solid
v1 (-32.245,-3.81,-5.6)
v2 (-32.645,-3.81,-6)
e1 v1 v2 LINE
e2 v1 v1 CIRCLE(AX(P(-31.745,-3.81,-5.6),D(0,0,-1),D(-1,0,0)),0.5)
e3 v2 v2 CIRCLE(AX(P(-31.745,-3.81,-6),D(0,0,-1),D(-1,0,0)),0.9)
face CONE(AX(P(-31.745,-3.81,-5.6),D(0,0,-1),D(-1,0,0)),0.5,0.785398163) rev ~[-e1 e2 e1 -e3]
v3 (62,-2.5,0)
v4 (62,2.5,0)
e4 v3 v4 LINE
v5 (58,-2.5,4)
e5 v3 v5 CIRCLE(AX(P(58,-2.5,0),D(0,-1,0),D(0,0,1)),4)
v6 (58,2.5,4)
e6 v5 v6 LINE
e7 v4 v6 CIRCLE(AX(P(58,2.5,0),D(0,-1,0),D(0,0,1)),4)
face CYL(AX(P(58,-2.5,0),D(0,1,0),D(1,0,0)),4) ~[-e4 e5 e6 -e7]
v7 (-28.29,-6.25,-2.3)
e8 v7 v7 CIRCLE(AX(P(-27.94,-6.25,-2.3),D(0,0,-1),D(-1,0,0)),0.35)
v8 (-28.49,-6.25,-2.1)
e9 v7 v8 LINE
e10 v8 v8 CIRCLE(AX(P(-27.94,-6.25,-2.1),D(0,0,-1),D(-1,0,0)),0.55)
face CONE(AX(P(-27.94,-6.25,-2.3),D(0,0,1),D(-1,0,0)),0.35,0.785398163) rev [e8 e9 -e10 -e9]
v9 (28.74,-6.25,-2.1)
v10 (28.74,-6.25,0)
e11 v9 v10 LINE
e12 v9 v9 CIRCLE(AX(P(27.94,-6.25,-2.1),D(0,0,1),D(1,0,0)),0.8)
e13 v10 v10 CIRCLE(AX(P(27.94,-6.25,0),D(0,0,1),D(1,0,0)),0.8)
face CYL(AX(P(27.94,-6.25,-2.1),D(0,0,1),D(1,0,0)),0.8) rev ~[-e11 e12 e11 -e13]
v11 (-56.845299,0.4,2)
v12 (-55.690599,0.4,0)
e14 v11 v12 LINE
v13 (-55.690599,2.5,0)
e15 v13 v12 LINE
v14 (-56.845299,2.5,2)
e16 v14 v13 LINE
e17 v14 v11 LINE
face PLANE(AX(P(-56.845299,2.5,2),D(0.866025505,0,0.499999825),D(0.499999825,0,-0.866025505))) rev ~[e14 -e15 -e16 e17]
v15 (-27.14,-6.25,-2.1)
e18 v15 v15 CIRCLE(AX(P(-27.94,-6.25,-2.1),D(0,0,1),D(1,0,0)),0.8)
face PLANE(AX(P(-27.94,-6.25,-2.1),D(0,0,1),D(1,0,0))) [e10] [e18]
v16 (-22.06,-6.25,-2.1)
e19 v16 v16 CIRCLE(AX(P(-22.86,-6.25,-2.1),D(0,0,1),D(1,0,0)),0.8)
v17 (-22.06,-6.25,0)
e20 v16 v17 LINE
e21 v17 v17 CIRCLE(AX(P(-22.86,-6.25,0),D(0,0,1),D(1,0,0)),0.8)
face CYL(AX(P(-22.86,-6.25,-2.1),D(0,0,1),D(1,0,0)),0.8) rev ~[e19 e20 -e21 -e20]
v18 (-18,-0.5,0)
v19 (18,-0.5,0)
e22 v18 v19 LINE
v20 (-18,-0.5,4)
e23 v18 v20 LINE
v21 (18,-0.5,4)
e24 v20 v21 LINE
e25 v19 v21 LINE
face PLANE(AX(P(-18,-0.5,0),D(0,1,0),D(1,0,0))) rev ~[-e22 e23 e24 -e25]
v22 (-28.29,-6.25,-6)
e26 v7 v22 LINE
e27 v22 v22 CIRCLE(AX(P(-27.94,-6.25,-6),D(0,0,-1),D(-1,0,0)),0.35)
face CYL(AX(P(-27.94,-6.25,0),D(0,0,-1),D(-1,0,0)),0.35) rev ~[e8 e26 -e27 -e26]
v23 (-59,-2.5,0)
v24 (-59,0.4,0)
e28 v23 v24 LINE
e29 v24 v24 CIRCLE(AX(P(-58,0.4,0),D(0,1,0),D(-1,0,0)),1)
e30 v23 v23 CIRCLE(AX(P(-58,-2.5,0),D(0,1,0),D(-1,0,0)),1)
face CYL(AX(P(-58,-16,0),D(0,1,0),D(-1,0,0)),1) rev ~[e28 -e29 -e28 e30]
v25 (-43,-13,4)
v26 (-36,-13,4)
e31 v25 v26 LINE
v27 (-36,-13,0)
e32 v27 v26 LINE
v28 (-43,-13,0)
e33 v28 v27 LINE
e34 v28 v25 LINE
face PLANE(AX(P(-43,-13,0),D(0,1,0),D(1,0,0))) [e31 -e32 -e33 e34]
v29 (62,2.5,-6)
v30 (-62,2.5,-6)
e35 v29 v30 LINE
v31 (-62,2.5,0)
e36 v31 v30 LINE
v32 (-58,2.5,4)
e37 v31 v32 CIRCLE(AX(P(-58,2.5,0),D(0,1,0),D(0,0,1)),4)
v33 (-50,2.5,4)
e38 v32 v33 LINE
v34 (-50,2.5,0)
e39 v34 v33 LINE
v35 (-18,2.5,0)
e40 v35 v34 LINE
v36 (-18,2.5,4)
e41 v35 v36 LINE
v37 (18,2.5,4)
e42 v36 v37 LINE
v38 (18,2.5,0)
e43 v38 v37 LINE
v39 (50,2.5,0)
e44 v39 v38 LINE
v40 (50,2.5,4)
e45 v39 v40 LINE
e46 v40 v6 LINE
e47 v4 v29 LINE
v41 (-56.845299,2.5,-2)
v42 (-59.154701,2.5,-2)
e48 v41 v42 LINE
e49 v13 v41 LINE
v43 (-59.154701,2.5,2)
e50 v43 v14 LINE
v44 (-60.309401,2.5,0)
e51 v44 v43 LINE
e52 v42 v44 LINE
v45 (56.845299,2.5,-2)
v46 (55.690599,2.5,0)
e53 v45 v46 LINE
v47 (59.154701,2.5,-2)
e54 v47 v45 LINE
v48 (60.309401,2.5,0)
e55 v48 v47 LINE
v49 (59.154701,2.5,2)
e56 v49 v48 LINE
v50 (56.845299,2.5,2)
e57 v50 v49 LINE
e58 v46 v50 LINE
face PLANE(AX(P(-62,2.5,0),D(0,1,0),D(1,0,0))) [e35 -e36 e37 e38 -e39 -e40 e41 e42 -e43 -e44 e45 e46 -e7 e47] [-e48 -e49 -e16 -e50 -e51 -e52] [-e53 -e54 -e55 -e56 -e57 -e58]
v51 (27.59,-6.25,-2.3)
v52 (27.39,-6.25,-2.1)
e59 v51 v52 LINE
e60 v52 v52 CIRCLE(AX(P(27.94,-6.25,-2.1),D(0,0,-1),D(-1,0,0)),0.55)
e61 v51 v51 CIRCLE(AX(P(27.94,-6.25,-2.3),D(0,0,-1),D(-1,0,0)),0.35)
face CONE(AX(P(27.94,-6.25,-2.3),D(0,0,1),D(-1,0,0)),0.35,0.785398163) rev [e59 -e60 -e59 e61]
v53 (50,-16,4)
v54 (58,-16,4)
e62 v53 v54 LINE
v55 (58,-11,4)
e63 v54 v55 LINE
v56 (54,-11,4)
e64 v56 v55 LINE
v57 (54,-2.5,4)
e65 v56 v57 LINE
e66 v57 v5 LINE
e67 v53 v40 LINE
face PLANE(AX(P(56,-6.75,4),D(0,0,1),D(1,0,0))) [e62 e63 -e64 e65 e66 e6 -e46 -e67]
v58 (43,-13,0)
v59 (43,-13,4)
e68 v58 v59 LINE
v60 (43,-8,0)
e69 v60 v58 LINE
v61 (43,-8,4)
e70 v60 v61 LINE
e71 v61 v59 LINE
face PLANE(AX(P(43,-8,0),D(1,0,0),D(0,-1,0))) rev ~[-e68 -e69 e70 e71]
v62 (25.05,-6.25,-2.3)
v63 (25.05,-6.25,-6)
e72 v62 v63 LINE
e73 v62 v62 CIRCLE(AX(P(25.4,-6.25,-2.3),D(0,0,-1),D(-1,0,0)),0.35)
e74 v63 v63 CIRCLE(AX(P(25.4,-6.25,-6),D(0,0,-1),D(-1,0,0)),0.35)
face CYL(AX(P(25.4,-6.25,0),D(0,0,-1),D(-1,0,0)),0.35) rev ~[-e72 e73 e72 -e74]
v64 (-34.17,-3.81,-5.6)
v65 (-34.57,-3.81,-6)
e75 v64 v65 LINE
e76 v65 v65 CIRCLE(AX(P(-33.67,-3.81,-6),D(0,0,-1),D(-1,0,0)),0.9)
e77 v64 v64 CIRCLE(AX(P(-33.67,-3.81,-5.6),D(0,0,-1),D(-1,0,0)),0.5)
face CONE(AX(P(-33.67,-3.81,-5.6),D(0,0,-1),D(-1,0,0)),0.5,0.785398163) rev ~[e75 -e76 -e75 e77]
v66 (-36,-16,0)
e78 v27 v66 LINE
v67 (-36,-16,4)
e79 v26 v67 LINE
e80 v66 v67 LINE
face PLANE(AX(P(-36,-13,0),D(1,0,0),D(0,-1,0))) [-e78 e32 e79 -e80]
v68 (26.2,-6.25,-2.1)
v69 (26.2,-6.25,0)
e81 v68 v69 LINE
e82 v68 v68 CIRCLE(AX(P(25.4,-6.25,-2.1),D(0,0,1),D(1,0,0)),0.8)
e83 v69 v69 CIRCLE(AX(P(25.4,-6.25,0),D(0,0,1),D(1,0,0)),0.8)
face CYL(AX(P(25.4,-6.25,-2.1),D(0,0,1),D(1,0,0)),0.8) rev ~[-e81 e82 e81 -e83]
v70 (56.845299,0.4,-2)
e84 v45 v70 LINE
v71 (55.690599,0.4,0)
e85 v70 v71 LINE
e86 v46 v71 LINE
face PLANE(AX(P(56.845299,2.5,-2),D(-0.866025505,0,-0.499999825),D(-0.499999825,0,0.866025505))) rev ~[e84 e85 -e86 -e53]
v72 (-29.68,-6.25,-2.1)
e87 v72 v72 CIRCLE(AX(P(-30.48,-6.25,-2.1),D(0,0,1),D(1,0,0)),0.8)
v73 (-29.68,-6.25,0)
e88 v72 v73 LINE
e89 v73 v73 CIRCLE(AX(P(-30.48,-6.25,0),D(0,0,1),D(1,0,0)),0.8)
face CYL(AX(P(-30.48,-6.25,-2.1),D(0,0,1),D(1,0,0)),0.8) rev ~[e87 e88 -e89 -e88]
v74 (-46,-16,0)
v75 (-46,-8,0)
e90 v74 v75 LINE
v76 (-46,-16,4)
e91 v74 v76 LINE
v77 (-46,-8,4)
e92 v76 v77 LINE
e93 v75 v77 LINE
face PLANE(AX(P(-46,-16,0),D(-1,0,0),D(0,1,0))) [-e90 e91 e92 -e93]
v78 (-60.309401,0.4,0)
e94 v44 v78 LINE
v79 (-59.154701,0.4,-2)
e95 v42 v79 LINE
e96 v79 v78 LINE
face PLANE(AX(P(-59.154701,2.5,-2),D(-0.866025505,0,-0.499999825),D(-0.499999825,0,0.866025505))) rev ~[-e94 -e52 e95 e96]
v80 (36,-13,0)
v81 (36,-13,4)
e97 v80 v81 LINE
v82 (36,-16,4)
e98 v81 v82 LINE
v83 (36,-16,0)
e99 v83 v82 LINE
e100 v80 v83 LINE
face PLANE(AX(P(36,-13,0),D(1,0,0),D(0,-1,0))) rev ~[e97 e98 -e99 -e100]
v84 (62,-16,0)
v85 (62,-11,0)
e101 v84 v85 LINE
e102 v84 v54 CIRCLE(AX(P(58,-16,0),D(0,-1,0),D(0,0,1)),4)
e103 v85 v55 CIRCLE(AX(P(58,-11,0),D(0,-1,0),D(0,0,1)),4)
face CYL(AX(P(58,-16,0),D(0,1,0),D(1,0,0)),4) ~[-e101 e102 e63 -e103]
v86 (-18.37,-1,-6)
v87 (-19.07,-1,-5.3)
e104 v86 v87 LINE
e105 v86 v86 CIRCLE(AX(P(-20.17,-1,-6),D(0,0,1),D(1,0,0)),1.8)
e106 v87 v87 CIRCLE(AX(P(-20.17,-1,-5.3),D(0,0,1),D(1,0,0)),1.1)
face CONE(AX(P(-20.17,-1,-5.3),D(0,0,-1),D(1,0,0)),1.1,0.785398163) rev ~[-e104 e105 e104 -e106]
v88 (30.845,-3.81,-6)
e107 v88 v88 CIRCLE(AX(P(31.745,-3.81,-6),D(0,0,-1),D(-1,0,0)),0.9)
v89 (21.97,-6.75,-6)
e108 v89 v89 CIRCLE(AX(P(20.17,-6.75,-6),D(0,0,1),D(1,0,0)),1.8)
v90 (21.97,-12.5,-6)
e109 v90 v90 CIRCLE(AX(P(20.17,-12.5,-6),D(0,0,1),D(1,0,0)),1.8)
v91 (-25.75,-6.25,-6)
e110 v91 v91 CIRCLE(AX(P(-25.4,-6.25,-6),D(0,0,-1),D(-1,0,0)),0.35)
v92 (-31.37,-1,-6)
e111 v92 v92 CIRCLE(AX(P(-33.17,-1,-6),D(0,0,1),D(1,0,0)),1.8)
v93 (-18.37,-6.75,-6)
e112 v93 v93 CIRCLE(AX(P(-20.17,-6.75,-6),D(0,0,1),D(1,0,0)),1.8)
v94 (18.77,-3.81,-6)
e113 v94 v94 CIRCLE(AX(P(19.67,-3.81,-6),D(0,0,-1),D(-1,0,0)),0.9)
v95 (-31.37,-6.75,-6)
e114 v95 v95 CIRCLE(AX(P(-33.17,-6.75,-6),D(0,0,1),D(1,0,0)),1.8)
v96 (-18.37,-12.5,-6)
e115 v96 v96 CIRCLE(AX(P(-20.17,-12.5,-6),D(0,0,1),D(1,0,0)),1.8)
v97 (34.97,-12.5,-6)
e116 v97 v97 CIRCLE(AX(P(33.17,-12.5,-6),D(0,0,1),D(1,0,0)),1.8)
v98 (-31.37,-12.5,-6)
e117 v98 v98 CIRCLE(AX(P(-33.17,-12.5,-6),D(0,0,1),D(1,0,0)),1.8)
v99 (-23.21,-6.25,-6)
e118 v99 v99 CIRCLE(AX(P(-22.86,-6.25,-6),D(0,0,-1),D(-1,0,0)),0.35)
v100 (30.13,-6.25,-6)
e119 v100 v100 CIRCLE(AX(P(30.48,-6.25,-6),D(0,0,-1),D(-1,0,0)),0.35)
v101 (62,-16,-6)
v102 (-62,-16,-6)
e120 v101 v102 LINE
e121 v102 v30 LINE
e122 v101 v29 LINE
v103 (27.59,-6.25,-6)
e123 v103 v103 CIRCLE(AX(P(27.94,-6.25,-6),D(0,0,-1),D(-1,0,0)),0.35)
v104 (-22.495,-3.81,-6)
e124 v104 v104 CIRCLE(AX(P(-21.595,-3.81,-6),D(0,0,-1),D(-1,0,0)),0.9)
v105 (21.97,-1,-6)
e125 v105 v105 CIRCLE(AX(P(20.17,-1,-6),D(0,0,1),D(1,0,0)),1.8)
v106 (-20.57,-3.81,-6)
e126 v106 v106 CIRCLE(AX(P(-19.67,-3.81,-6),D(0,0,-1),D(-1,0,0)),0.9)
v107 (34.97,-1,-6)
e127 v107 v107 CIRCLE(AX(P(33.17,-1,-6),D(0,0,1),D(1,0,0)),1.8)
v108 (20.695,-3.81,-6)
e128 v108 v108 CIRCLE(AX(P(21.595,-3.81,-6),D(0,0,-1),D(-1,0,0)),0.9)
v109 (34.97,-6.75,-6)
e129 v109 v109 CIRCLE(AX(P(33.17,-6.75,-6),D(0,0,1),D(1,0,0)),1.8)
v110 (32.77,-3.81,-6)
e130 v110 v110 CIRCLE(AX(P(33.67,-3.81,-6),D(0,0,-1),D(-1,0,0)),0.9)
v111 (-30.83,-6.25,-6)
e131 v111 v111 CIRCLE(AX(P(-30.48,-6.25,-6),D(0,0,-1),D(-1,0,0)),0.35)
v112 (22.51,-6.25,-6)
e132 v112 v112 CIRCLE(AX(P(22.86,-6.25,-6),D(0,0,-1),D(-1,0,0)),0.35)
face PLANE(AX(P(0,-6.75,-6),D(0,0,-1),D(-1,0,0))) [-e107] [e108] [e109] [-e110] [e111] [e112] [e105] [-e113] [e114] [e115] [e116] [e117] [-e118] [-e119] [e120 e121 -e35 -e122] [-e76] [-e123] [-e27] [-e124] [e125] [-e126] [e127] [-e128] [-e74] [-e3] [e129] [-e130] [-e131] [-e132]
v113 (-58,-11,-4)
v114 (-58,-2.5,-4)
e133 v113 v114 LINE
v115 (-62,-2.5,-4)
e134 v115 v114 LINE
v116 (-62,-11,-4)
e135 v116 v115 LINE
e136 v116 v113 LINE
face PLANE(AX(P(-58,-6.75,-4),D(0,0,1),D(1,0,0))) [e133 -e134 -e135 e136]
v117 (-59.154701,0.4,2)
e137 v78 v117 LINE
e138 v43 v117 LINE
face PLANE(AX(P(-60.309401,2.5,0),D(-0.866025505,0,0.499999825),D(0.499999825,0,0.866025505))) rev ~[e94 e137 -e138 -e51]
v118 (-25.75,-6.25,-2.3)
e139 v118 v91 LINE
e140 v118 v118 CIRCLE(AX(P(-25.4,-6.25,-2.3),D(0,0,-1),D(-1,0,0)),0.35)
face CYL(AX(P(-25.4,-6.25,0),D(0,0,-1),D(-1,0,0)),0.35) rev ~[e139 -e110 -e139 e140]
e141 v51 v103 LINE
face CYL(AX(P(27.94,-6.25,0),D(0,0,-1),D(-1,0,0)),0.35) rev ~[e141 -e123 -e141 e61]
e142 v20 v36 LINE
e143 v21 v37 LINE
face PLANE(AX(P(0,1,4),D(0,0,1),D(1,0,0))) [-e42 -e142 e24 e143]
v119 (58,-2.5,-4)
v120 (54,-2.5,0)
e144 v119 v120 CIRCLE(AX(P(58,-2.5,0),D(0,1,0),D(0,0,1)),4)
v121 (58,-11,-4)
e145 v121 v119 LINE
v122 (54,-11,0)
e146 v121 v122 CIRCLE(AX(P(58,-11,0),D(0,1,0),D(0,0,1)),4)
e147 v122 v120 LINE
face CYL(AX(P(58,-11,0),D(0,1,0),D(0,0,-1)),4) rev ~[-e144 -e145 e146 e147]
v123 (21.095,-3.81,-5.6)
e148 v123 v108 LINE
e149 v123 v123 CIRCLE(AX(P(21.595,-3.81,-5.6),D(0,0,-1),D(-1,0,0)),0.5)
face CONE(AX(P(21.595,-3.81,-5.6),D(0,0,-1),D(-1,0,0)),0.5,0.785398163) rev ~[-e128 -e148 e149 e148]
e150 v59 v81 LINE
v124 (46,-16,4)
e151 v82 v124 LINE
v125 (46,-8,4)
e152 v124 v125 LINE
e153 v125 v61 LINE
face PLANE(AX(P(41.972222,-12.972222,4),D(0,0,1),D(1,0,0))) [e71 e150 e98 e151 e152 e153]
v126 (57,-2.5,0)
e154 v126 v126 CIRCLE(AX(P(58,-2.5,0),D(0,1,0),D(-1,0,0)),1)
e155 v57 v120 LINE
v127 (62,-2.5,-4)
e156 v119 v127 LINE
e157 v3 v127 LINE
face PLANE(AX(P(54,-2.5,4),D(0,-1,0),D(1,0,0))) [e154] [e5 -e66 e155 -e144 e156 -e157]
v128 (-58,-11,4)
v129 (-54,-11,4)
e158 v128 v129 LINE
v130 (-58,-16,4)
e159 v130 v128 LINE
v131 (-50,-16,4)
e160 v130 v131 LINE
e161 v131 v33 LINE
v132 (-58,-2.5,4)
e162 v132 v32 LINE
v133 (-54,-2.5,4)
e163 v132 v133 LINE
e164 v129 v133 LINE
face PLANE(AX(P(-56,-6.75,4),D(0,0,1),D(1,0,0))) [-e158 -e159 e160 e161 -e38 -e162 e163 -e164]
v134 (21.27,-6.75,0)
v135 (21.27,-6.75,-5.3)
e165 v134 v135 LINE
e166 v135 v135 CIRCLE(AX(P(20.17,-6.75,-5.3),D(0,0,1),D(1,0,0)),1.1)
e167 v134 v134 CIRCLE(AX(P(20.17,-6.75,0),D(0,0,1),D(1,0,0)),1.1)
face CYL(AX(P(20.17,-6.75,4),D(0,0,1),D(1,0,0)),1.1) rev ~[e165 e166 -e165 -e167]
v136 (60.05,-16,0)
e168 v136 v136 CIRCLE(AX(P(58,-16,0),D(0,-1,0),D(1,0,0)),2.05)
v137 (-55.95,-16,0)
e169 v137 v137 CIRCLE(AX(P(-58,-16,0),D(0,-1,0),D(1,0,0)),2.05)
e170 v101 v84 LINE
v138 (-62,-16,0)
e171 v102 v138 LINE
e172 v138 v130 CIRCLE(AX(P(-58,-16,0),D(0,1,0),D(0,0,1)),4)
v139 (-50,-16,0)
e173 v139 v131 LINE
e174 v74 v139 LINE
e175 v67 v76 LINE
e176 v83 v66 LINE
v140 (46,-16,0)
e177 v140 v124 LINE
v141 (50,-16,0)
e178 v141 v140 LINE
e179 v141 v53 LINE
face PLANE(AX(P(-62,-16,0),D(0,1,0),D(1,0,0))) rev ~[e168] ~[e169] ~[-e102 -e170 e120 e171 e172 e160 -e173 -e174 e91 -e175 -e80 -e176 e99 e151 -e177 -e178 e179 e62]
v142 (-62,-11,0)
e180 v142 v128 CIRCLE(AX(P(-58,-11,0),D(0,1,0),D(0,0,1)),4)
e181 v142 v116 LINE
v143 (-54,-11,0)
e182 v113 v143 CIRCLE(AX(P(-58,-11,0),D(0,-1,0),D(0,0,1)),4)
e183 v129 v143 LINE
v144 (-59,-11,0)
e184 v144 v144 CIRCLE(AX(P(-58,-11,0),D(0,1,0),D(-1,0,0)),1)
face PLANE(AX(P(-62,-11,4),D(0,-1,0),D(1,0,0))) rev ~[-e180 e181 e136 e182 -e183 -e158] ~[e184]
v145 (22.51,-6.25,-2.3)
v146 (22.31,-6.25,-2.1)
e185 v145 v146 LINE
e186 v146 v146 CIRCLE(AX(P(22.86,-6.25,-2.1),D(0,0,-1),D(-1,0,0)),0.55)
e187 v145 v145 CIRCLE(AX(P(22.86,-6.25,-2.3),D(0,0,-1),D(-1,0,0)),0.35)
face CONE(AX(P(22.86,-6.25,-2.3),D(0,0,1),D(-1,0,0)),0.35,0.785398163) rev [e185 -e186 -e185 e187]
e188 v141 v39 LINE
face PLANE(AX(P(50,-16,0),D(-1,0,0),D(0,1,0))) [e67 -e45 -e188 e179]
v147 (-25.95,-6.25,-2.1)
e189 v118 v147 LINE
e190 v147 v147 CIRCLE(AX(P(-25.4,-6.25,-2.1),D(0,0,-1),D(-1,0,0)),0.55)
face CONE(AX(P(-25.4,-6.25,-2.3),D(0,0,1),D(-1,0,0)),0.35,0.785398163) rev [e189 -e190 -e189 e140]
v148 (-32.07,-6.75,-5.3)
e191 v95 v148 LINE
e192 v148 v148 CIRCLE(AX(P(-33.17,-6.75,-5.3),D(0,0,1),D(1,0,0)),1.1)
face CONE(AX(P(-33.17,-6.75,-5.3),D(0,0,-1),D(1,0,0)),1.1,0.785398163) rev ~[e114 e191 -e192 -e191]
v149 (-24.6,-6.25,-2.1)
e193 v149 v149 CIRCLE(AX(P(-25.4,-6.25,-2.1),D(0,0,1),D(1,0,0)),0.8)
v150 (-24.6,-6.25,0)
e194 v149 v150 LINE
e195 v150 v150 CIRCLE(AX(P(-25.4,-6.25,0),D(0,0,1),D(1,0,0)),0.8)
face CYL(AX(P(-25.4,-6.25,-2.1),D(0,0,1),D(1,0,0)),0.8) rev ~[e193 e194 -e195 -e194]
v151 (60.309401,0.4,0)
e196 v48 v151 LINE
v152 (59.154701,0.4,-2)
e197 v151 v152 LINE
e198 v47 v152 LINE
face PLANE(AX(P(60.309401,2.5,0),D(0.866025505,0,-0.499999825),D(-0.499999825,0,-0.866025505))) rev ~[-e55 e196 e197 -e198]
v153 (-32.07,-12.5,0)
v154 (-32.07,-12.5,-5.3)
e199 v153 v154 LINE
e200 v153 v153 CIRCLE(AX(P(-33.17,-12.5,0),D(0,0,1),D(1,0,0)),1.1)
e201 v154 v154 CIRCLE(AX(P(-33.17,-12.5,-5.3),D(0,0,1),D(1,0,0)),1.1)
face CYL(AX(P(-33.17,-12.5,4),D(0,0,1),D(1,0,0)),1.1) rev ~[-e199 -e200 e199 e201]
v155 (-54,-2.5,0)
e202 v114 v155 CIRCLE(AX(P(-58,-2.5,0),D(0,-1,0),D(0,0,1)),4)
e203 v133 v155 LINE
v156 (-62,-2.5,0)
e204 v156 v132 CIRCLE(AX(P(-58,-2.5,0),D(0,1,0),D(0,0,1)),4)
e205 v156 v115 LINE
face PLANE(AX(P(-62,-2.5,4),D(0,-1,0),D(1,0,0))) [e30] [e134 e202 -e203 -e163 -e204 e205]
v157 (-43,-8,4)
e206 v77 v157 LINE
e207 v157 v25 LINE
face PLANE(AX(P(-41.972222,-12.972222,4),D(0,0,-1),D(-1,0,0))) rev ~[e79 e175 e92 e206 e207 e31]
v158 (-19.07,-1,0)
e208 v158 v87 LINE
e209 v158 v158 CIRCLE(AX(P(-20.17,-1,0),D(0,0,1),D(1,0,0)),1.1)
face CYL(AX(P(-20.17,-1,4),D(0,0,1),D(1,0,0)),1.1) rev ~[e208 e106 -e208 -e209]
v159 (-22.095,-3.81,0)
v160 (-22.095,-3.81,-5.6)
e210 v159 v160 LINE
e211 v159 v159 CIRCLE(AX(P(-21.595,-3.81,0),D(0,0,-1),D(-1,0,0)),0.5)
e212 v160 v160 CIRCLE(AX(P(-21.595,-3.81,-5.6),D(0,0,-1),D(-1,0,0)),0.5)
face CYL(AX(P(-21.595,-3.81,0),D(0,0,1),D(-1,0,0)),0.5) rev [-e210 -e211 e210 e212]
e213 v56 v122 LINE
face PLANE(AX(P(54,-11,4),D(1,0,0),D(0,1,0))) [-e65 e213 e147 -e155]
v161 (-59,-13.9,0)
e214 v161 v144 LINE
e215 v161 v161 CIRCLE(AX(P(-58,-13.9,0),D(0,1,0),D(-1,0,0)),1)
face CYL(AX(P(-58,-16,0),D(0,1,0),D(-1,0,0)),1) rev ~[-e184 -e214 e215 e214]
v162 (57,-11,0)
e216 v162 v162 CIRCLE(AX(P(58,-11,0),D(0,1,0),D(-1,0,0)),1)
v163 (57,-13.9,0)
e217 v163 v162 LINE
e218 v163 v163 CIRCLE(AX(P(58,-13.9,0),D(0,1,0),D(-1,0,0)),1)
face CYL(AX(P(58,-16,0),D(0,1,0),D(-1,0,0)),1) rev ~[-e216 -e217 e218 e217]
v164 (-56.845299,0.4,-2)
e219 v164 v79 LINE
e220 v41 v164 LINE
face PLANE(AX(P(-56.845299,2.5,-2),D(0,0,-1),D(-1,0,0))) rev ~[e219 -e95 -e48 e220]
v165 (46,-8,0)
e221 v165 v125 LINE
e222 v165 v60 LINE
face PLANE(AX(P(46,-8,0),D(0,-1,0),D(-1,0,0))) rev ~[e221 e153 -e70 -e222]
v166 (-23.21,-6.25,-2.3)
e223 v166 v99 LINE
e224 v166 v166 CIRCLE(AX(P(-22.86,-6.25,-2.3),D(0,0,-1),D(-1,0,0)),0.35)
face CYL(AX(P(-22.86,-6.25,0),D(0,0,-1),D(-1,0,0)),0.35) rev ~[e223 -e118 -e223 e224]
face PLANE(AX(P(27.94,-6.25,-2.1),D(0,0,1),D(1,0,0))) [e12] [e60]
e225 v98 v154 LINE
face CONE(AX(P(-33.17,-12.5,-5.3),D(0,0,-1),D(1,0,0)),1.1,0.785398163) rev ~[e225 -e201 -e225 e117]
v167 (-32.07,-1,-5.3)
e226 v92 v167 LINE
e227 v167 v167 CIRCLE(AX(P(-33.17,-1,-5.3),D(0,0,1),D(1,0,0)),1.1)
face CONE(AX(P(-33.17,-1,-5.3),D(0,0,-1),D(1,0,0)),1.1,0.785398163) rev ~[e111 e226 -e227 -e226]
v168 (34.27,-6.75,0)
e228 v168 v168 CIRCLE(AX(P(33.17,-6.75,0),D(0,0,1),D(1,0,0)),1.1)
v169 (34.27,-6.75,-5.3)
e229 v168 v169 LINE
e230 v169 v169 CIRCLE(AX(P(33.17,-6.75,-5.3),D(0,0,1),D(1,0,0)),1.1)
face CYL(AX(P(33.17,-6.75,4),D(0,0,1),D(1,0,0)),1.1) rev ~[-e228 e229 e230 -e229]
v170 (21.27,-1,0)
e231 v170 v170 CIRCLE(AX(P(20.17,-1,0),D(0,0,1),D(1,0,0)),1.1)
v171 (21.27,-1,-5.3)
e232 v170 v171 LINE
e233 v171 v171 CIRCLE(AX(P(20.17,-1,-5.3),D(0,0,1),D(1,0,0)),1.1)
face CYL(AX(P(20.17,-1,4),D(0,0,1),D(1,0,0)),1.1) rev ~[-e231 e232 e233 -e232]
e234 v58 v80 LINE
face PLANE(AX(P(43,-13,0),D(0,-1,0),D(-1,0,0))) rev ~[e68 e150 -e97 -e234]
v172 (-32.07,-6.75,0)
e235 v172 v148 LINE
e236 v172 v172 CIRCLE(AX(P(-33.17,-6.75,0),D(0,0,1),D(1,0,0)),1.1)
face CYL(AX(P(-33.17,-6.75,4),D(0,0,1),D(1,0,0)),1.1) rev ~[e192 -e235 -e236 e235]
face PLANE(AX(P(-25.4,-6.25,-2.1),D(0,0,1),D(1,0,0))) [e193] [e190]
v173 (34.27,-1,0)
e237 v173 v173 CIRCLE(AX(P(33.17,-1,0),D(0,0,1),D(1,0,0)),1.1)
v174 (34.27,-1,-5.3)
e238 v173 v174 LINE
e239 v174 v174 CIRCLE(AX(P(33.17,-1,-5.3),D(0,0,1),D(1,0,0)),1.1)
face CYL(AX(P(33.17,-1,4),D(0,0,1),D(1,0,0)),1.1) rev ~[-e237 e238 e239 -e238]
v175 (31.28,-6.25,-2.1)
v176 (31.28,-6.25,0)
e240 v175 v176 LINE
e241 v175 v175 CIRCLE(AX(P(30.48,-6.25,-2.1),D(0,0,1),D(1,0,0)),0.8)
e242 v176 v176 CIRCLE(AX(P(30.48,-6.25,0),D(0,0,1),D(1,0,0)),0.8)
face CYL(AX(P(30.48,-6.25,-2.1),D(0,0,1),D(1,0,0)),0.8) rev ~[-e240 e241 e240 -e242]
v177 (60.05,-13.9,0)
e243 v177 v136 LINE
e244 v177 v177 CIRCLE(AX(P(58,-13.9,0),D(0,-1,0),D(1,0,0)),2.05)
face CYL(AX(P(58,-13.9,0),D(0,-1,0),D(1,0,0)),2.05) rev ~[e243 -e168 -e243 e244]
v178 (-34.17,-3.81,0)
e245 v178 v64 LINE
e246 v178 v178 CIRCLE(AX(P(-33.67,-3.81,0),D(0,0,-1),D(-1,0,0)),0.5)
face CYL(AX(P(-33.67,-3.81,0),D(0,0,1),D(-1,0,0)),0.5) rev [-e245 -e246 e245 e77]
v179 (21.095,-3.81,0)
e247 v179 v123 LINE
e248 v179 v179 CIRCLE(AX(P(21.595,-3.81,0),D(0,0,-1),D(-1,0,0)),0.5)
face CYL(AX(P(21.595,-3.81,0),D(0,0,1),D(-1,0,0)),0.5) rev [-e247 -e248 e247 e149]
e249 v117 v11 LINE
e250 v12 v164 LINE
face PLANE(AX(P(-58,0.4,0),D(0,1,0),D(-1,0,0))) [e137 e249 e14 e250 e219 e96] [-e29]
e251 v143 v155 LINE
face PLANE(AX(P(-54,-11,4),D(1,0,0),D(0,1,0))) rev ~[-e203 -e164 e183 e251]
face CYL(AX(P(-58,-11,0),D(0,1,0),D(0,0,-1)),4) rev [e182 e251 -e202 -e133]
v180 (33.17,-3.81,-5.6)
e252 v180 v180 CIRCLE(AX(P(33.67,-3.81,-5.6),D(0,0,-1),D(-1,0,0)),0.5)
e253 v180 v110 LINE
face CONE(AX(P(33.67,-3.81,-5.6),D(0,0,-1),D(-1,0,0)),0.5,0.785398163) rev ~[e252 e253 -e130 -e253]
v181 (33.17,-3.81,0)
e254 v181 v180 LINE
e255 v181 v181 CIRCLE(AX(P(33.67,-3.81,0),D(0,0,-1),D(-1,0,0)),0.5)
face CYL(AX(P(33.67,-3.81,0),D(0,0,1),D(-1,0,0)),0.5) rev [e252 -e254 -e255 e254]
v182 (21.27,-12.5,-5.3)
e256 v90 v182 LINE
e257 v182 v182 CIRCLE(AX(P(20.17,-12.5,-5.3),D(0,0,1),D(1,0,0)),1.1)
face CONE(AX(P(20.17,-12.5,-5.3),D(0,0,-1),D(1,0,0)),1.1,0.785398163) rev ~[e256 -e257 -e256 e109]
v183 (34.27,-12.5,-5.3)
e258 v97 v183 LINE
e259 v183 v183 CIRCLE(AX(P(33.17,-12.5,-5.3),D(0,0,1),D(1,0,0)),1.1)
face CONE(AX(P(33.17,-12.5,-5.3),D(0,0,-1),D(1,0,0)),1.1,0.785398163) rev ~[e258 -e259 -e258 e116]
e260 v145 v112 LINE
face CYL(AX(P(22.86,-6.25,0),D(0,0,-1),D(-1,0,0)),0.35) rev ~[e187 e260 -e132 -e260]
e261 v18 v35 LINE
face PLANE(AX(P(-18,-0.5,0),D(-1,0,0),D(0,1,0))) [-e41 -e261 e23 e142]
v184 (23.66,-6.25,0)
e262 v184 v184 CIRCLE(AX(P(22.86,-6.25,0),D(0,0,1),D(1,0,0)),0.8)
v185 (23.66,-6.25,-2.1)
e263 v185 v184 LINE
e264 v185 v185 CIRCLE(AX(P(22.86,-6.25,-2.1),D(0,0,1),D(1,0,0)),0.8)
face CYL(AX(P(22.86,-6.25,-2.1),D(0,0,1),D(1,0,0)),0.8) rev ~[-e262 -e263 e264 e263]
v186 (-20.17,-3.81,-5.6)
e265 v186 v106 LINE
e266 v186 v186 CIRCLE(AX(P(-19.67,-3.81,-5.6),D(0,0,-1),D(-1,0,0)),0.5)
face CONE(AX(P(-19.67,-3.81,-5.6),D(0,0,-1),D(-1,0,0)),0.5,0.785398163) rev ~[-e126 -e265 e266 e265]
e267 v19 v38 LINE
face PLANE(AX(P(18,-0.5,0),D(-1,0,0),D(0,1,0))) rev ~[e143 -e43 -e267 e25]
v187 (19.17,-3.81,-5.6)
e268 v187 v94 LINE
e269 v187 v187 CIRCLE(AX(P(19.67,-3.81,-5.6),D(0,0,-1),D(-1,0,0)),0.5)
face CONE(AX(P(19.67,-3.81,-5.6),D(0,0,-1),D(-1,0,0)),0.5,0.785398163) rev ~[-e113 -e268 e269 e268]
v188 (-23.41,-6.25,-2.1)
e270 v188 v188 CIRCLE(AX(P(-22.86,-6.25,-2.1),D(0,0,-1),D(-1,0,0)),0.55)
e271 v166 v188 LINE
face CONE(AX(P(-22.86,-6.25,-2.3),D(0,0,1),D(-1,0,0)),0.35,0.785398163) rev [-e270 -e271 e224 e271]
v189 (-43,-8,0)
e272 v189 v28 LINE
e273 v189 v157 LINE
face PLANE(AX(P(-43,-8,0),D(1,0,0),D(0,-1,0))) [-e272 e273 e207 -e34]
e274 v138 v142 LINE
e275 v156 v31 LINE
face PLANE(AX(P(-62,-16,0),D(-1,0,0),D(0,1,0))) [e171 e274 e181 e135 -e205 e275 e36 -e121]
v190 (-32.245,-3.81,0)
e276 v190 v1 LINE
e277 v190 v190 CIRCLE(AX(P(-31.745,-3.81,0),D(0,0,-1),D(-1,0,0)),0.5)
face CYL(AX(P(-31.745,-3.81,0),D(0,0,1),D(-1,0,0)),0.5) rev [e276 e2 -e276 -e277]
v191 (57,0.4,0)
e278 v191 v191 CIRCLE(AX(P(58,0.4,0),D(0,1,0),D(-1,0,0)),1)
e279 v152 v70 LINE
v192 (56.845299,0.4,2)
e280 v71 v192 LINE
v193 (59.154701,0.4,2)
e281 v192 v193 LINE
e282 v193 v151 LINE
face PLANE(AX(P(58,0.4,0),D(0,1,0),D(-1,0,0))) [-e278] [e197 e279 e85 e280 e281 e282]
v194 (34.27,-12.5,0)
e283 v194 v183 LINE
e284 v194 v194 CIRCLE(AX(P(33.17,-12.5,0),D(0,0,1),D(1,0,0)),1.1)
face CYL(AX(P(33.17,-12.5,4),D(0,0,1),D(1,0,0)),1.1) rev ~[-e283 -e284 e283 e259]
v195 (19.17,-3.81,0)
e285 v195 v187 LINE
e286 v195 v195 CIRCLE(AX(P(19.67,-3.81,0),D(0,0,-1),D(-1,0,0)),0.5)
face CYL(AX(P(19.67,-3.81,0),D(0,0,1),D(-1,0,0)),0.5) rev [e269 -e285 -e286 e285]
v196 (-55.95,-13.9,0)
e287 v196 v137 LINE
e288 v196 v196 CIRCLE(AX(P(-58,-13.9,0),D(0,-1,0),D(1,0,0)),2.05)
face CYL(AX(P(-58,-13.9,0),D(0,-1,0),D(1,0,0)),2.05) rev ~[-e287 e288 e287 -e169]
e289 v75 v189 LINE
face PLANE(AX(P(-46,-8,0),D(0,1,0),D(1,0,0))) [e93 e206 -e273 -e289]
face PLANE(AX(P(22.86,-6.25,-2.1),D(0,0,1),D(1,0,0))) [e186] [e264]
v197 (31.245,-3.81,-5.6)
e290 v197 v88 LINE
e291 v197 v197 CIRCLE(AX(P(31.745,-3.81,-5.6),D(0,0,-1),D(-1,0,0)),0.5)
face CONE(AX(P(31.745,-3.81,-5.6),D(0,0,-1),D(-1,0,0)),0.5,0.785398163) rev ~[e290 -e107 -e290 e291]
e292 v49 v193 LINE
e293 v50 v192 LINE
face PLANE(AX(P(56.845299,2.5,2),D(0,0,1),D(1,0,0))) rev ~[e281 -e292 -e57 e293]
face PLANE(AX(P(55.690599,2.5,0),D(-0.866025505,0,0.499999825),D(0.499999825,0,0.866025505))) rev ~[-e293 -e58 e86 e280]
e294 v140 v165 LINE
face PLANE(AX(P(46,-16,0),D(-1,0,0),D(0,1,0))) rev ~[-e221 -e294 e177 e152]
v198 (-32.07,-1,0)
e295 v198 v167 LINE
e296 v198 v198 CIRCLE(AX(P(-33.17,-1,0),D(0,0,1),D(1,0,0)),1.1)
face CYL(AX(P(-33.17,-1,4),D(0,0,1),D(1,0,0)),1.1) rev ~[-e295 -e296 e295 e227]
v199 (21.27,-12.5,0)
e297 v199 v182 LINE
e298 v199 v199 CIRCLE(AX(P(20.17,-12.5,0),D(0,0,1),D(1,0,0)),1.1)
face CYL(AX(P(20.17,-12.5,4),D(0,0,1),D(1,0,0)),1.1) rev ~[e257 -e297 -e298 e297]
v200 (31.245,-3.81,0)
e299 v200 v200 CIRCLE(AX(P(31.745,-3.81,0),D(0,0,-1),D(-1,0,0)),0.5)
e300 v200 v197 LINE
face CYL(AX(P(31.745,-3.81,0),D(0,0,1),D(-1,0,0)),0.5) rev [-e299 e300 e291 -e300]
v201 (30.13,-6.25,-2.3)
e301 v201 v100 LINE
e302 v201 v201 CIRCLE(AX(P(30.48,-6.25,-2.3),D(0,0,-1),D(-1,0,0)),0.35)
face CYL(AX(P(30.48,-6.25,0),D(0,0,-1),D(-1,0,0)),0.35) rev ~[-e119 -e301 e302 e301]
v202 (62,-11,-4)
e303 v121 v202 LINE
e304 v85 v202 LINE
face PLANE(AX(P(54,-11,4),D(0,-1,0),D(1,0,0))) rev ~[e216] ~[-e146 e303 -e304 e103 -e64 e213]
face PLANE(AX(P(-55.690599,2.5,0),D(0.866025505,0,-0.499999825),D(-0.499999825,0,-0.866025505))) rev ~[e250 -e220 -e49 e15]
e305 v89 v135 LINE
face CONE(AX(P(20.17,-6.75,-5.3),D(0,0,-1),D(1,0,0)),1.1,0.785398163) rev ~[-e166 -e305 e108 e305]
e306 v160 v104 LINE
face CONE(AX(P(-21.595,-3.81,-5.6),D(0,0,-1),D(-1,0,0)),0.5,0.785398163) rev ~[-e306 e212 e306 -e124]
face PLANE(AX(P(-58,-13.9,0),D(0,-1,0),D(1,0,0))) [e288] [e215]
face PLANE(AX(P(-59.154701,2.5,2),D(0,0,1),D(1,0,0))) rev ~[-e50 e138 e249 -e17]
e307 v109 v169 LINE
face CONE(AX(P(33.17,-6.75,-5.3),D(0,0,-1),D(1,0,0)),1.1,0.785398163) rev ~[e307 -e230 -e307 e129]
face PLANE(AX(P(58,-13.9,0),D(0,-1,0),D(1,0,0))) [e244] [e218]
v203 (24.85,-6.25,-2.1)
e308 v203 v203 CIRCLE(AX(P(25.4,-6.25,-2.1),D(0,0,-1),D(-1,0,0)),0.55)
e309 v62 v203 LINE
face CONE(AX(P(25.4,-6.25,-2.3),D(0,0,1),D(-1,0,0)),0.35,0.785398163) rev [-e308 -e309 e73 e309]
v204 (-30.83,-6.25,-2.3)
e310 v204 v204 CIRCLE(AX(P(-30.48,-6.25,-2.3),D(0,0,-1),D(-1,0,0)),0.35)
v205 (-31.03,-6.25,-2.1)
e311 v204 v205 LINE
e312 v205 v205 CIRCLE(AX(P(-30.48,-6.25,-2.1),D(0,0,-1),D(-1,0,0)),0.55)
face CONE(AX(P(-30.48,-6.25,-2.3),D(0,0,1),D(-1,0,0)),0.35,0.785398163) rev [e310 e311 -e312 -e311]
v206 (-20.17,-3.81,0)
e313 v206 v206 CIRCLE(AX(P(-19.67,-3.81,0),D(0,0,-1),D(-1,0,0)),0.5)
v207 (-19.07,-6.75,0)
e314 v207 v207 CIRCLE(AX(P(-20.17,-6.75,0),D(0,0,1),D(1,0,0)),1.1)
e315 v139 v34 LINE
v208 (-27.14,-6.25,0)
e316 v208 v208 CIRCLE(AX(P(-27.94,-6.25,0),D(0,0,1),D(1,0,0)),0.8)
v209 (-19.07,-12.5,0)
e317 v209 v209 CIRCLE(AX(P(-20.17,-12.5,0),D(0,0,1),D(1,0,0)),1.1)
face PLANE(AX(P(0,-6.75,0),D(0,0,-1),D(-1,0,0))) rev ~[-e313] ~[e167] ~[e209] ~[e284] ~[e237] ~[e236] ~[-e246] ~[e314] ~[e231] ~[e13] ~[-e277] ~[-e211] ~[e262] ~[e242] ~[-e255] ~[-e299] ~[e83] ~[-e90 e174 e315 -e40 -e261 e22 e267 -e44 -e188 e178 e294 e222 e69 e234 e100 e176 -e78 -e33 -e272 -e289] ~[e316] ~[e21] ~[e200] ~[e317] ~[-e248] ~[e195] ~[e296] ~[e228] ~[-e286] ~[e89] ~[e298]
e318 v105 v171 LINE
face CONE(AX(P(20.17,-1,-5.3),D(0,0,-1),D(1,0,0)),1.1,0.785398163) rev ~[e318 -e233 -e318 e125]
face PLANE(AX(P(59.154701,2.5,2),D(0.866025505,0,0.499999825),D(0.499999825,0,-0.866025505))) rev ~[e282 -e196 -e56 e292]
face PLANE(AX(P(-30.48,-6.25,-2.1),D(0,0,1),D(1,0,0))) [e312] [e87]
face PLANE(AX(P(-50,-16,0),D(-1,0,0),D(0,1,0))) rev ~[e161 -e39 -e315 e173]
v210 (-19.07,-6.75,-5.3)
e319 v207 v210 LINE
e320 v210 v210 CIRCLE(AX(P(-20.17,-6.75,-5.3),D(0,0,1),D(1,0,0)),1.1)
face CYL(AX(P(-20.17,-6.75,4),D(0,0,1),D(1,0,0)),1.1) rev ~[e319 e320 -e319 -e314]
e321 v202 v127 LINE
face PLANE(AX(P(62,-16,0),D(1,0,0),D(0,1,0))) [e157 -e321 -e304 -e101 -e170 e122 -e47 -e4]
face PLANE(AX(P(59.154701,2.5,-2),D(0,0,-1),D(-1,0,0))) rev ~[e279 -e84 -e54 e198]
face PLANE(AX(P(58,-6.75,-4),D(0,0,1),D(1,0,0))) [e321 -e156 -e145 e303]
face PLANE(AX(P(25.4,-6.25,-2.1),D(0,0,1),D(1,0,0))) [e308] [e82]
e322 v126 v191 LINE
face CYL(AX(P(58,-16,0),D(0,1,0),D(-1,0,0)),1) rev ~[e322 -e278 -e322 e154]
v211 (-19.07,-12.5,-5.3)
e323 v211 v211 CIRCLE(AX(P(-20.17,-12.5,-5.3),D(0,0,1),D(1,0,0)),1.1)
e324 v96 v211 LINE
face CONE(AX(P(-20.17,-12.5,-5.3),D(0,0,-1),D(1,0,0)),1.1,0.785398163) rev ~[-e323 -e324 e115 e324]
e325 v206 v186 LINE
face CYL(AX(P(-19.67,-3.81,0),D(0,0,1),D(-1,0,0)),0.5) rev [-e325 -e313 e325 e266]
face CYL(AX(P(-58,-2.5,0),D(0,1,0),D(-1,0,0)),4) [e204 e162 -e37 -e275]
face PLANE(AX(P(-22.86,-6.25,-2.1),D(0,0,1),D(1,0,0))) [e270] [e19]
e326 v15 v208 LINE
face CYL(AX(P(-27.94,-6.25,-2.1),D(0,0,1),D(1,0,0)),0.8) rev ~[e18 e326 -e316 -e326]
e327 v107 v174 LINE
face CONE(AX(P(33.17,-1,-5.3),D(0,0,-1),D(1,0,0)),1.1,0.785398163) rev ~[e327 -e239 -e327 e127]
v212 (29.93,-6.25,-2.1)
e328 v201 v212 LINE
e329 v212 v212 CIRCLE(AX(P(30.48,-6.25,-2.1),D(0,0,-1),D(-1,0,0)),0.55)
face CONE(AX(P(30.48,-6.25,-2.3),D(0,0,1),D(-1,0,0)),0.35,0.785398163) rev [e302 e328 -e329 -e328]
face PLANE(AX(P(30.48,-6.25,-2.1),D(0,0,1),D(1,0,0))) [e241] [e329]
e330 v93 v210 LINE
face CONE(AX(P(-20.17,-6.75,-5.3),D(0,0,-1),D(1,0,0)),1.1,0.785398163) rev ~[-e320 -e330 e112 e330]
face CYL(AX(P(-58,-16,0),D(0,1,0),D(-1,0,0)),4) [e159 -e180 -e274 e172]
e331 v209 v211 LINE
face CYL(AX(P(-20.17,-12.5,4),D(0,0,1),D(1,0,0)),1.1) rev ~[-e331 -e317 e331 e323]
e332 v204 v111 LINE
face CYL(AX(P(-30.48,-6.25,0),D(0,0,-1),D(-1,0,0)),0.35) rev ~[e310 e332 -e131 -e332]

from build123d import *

# Parameters (mm, degrees)
SKETCH_W            = 124
SKETCH_H            = 18.5
SKETCH_R            = 0.5
PAD_DEPTH           = 6
HOLE_D              = 0.7
HOLE_DEPTH          = 25
HOLE_CBORE_D        = 1.6
HOLE_CBORE_DEPTH    = 2.1
CHAMFER_SIZE        = 0.2
SKETCH002_W         = 12
SKETCH002_H         = 18.5
SKETCH002_W_2       = 36
SKETCH002_H_2       = 3
PAD001_DEPTH        = 4
CHAMFER001_SIZE     = 0.4
SKETCH003_R         = 1.1
POCKET_DEPTH        = 10.001
CHAMFER002_SIZE     = 0.7
SKETCH004_W         = 8
SKETCH004_H         = 8.5
POCKET001_DEPTH     = 8
HOLE003_D           = 2
HOLE003_CBORE_D     = 4.1
HOLE003_CBORE_DEPTH = 2.1
FILLET_R            = 4
POCKET002_DEPTH     = 2.1


with BuildPart() as part:
    # Sketch → Pad (new body)
    with BuildSketch(Plane(origin=(0, 0, 0), x_dir=(-1, 0, 0), z_dir=(0, 0, -1))):
        with Locations((0, -6.75)):
            Rectangle(SKETCH_W, SKETCH_H)
        with Locations((-33.67, -3.81)):
            Circle(SKETCH_R, mode=Mode.SUBTRACT)
        with Locations((-31.745, -3.81)):
            Circle(SKETCH_R, mode=Mode.SUBTRACT)
        with Locations((-21.595, -3.81)):
            Circle(SKETCH_R, mode=Mode.SUBTRACT)
        with Locations((-19.67, -3.81)):
            Circle(SKETCH_R, mode=Mode.SUBTRACT)
        with Locations((19.67, -3.81)):
            Circle(SKETCH_R, mode=Mode.SUBTRACT)
        with Locations((21.595, -3.81)):
            Circle(SKETCH_R, mode=Mode.SUBTRACT)
        with Locations((31.745, -3.81)):
            Circle(SKETCH_R, mode=Mode.SUBTRACT)
        with Locations((33.67, -3.81)):
            Circle(SKETCH_R, mode=Mode.SUBTRACT)
    extrude(amount=PAD_DEPTH)

    # Hole
    with Locations(Plane.XY):
        with Locations((-30.48, -6.25), (-27.94, -6.25), (-25.4, -6.25), (-22.86, -6.25), (22.86, -6.25), (25.4, -6.25), (27.94, -6.25), (30.48, -6.25)):
            CounterBoreHole(HOLE_D / 2, HOLE_CBORE_D / 2, HOLE_CBORE_DEPTH, depth=HOLE_DEPTH)

    # Chamfer
    chamfer_edges = [part.edges().sort_by_distance(p)[0] for p in [
        (30.13, -6.25, -2.1),
        (27.59, -6.25, -2.1),
        (25.05, -6.25, -2.1),
        (22.51, -6.25, -2.1),
        (-30.83, -6.25, -2.1),
        (-28.29, -6.25, -2.1),
        (-25.75, -6.25, -2.1),
        (-23.21, -6.25, -2.1),
    ]]
    chamfer(chamfer_edges, length=CHAMFER_SIZE)

    # Sketch002 (on Face25 of Chamfer) → Pad001 (join)
    with BuildSketch(Plane.XY):
        with Locations((-56, -6.75)):
            Rectangle(SKETCH002_W, SKETCH002_H)
        with Locations((56, -6.75)):
            Rectangle(SKETCH002_W, SKETCH002_H)
        with Locations((0, 1)):
            Rectangle(SKETCH002_W_2, SKETCH002_H_2)
        Polygon((-46, -16), (-46, -8), (-43, -8), (-43, -13), (-36, -13), (-36, -16), align=None)
        Polygon((46, -16), (46, -8), (43, -8), (43, -13), (36, -13), (36, -16), align=None)
    extrude(amount=PAD001_DEPTH)

    # Chamfer001
    chamfer001_edges = [part.edges().sort_by_distance(p)[0] for p in [
        (34.17, -3.81, -6),
        (32.245, -3.81, -6),
        (22.095, -3.81, -6),
        (20.17, -3.81, -6),
        (-19.17, -3.81, -6),
        (-21.095, -3.81, -6),
        (-31.245, -3.81, -6),
        (-33.17, -3.81, -6),
    ]]
    chamfer(chamfer001_edges, length=CHAMFER001_SIZE)

    # Sketch003 (on Face23 of Chamfer001) → Pocket (cut, through all)
    with BuildSketch(Plane.XY.offset(4)):
        with Locations((-33.17, -1)):
            Circle(SKETCH003_R)
        with Locations((-20.17, -1)):
            Circle(SKETCH003_R)
        with Locations((-33.17, -6.75)):
            Circle(SKETCH003_R)
        with Locations((-20.17, -6.75)):
            Circle(SKETCH003_R)
        with Locations((-20.17, -12.5)):
            Circle(SKETCH003_R)
        with Locations((-33.17, -12.5)):
            Circle(SKETCH003_R)
        with Locations((20.17, -1)):
            Circle(SKETCH003_R)
        with Locations((33.17, -1)):
            Circle(SKETCH003_R)
        with Locations((20.17, -6.75)):
            Circle(SKETCH003_R)
        with Locations((33.17, -6.75)):
            Circle(SKETCH003_R)
        with Locations((33.17, -12.5)):
            Circle(SKETCH003_R)
        with Locations((20.17, -12.5)):
            Circle(SKETCH003_R)
    extrude(amount=-POCKET_DEPTH, mode=Mode.SUBTRACT)

    # Chamfer002
    chamfer002_edges = [part.edges().sort_by_distance(p)[0] for p in [
        (19.07, -6.75, -6),
        (19.07, -1, -6),
        (19.07, -12.5, -6),
        (32.07, -12.5, -6),
        (32.07, -6.75, -6),
        (32.07, -1, -6),
        (-34.27, -1, -6),
        (-34.27, -6.75, -6),
        (-34.27, -12.5, -6),
        (-21.27, -12.5, -6),
        (-21.27, -6.75, -6),
        (-21.27, -1, -6),
    ]]
    chamfer(chamfer002_edges, length=CHAMFER002_SIZE)

    # Sketch004 (on Face35 of Chamfer002) → Pocket001 (cut)
    with BuildSketch(Plane.XY.offset(4)):
        with Locations((-58, -6.75)):
            Rectangle(SKETCH004_W, SKETCH004_H)
        with Locations((58, -6.75)):
            Rectangle(SKETCH004_W, SKETCH004_H)
    extrude(amount=-POCKET001_DEPTH, mode=Mode.SUBTRACT)

    # Hole003 (through all)
    with Locations(Plane.XZ.offset(16)):
        with Locations((-58, 0), (58, 0)):
            CounterBoreHole(HOLE003_D / 2, HOLE003_CBORE_D / 2, HOLE003_CBORE_DEPTH)

    # Fillet
    fillet_edges = [part.edges().sort_by_distance(p)[0] for p in [
        (-62, 0, 4),
        (-62, -13.5, 4),
        (62, 0, 4),
        (62, -13.5, 4),
        (54, -6.75, -4),
        (-54, -6.75, -4),
    ]]
    fillet(fillet_edges, radius=FILLET_R)

    # Sketch015 (on Face1 of Fillet) → Pocket002 (cut)
    with BuildSketch(Plane(origin=(0, 2.5, 0), x_dir=(-1, 0, 0), z_dir=(0, 1, 0))):
        Polygon((-56.845299, 2), (-59.154701, 2), (-60.309401, 0), (-59.154701, -2), (-56.845299, -2), (-55.690599, 0), align=None)
        Polygon((55.690599, 0), (56.845299, -2), (59.154701, -2), (60.309401, 0), (59.154701, 2), (56.845299, 2), align=None)
    extrude(amount=-POCKET002_DEPTH, mode=Mode.SUBTRACT)


solid = part.part
